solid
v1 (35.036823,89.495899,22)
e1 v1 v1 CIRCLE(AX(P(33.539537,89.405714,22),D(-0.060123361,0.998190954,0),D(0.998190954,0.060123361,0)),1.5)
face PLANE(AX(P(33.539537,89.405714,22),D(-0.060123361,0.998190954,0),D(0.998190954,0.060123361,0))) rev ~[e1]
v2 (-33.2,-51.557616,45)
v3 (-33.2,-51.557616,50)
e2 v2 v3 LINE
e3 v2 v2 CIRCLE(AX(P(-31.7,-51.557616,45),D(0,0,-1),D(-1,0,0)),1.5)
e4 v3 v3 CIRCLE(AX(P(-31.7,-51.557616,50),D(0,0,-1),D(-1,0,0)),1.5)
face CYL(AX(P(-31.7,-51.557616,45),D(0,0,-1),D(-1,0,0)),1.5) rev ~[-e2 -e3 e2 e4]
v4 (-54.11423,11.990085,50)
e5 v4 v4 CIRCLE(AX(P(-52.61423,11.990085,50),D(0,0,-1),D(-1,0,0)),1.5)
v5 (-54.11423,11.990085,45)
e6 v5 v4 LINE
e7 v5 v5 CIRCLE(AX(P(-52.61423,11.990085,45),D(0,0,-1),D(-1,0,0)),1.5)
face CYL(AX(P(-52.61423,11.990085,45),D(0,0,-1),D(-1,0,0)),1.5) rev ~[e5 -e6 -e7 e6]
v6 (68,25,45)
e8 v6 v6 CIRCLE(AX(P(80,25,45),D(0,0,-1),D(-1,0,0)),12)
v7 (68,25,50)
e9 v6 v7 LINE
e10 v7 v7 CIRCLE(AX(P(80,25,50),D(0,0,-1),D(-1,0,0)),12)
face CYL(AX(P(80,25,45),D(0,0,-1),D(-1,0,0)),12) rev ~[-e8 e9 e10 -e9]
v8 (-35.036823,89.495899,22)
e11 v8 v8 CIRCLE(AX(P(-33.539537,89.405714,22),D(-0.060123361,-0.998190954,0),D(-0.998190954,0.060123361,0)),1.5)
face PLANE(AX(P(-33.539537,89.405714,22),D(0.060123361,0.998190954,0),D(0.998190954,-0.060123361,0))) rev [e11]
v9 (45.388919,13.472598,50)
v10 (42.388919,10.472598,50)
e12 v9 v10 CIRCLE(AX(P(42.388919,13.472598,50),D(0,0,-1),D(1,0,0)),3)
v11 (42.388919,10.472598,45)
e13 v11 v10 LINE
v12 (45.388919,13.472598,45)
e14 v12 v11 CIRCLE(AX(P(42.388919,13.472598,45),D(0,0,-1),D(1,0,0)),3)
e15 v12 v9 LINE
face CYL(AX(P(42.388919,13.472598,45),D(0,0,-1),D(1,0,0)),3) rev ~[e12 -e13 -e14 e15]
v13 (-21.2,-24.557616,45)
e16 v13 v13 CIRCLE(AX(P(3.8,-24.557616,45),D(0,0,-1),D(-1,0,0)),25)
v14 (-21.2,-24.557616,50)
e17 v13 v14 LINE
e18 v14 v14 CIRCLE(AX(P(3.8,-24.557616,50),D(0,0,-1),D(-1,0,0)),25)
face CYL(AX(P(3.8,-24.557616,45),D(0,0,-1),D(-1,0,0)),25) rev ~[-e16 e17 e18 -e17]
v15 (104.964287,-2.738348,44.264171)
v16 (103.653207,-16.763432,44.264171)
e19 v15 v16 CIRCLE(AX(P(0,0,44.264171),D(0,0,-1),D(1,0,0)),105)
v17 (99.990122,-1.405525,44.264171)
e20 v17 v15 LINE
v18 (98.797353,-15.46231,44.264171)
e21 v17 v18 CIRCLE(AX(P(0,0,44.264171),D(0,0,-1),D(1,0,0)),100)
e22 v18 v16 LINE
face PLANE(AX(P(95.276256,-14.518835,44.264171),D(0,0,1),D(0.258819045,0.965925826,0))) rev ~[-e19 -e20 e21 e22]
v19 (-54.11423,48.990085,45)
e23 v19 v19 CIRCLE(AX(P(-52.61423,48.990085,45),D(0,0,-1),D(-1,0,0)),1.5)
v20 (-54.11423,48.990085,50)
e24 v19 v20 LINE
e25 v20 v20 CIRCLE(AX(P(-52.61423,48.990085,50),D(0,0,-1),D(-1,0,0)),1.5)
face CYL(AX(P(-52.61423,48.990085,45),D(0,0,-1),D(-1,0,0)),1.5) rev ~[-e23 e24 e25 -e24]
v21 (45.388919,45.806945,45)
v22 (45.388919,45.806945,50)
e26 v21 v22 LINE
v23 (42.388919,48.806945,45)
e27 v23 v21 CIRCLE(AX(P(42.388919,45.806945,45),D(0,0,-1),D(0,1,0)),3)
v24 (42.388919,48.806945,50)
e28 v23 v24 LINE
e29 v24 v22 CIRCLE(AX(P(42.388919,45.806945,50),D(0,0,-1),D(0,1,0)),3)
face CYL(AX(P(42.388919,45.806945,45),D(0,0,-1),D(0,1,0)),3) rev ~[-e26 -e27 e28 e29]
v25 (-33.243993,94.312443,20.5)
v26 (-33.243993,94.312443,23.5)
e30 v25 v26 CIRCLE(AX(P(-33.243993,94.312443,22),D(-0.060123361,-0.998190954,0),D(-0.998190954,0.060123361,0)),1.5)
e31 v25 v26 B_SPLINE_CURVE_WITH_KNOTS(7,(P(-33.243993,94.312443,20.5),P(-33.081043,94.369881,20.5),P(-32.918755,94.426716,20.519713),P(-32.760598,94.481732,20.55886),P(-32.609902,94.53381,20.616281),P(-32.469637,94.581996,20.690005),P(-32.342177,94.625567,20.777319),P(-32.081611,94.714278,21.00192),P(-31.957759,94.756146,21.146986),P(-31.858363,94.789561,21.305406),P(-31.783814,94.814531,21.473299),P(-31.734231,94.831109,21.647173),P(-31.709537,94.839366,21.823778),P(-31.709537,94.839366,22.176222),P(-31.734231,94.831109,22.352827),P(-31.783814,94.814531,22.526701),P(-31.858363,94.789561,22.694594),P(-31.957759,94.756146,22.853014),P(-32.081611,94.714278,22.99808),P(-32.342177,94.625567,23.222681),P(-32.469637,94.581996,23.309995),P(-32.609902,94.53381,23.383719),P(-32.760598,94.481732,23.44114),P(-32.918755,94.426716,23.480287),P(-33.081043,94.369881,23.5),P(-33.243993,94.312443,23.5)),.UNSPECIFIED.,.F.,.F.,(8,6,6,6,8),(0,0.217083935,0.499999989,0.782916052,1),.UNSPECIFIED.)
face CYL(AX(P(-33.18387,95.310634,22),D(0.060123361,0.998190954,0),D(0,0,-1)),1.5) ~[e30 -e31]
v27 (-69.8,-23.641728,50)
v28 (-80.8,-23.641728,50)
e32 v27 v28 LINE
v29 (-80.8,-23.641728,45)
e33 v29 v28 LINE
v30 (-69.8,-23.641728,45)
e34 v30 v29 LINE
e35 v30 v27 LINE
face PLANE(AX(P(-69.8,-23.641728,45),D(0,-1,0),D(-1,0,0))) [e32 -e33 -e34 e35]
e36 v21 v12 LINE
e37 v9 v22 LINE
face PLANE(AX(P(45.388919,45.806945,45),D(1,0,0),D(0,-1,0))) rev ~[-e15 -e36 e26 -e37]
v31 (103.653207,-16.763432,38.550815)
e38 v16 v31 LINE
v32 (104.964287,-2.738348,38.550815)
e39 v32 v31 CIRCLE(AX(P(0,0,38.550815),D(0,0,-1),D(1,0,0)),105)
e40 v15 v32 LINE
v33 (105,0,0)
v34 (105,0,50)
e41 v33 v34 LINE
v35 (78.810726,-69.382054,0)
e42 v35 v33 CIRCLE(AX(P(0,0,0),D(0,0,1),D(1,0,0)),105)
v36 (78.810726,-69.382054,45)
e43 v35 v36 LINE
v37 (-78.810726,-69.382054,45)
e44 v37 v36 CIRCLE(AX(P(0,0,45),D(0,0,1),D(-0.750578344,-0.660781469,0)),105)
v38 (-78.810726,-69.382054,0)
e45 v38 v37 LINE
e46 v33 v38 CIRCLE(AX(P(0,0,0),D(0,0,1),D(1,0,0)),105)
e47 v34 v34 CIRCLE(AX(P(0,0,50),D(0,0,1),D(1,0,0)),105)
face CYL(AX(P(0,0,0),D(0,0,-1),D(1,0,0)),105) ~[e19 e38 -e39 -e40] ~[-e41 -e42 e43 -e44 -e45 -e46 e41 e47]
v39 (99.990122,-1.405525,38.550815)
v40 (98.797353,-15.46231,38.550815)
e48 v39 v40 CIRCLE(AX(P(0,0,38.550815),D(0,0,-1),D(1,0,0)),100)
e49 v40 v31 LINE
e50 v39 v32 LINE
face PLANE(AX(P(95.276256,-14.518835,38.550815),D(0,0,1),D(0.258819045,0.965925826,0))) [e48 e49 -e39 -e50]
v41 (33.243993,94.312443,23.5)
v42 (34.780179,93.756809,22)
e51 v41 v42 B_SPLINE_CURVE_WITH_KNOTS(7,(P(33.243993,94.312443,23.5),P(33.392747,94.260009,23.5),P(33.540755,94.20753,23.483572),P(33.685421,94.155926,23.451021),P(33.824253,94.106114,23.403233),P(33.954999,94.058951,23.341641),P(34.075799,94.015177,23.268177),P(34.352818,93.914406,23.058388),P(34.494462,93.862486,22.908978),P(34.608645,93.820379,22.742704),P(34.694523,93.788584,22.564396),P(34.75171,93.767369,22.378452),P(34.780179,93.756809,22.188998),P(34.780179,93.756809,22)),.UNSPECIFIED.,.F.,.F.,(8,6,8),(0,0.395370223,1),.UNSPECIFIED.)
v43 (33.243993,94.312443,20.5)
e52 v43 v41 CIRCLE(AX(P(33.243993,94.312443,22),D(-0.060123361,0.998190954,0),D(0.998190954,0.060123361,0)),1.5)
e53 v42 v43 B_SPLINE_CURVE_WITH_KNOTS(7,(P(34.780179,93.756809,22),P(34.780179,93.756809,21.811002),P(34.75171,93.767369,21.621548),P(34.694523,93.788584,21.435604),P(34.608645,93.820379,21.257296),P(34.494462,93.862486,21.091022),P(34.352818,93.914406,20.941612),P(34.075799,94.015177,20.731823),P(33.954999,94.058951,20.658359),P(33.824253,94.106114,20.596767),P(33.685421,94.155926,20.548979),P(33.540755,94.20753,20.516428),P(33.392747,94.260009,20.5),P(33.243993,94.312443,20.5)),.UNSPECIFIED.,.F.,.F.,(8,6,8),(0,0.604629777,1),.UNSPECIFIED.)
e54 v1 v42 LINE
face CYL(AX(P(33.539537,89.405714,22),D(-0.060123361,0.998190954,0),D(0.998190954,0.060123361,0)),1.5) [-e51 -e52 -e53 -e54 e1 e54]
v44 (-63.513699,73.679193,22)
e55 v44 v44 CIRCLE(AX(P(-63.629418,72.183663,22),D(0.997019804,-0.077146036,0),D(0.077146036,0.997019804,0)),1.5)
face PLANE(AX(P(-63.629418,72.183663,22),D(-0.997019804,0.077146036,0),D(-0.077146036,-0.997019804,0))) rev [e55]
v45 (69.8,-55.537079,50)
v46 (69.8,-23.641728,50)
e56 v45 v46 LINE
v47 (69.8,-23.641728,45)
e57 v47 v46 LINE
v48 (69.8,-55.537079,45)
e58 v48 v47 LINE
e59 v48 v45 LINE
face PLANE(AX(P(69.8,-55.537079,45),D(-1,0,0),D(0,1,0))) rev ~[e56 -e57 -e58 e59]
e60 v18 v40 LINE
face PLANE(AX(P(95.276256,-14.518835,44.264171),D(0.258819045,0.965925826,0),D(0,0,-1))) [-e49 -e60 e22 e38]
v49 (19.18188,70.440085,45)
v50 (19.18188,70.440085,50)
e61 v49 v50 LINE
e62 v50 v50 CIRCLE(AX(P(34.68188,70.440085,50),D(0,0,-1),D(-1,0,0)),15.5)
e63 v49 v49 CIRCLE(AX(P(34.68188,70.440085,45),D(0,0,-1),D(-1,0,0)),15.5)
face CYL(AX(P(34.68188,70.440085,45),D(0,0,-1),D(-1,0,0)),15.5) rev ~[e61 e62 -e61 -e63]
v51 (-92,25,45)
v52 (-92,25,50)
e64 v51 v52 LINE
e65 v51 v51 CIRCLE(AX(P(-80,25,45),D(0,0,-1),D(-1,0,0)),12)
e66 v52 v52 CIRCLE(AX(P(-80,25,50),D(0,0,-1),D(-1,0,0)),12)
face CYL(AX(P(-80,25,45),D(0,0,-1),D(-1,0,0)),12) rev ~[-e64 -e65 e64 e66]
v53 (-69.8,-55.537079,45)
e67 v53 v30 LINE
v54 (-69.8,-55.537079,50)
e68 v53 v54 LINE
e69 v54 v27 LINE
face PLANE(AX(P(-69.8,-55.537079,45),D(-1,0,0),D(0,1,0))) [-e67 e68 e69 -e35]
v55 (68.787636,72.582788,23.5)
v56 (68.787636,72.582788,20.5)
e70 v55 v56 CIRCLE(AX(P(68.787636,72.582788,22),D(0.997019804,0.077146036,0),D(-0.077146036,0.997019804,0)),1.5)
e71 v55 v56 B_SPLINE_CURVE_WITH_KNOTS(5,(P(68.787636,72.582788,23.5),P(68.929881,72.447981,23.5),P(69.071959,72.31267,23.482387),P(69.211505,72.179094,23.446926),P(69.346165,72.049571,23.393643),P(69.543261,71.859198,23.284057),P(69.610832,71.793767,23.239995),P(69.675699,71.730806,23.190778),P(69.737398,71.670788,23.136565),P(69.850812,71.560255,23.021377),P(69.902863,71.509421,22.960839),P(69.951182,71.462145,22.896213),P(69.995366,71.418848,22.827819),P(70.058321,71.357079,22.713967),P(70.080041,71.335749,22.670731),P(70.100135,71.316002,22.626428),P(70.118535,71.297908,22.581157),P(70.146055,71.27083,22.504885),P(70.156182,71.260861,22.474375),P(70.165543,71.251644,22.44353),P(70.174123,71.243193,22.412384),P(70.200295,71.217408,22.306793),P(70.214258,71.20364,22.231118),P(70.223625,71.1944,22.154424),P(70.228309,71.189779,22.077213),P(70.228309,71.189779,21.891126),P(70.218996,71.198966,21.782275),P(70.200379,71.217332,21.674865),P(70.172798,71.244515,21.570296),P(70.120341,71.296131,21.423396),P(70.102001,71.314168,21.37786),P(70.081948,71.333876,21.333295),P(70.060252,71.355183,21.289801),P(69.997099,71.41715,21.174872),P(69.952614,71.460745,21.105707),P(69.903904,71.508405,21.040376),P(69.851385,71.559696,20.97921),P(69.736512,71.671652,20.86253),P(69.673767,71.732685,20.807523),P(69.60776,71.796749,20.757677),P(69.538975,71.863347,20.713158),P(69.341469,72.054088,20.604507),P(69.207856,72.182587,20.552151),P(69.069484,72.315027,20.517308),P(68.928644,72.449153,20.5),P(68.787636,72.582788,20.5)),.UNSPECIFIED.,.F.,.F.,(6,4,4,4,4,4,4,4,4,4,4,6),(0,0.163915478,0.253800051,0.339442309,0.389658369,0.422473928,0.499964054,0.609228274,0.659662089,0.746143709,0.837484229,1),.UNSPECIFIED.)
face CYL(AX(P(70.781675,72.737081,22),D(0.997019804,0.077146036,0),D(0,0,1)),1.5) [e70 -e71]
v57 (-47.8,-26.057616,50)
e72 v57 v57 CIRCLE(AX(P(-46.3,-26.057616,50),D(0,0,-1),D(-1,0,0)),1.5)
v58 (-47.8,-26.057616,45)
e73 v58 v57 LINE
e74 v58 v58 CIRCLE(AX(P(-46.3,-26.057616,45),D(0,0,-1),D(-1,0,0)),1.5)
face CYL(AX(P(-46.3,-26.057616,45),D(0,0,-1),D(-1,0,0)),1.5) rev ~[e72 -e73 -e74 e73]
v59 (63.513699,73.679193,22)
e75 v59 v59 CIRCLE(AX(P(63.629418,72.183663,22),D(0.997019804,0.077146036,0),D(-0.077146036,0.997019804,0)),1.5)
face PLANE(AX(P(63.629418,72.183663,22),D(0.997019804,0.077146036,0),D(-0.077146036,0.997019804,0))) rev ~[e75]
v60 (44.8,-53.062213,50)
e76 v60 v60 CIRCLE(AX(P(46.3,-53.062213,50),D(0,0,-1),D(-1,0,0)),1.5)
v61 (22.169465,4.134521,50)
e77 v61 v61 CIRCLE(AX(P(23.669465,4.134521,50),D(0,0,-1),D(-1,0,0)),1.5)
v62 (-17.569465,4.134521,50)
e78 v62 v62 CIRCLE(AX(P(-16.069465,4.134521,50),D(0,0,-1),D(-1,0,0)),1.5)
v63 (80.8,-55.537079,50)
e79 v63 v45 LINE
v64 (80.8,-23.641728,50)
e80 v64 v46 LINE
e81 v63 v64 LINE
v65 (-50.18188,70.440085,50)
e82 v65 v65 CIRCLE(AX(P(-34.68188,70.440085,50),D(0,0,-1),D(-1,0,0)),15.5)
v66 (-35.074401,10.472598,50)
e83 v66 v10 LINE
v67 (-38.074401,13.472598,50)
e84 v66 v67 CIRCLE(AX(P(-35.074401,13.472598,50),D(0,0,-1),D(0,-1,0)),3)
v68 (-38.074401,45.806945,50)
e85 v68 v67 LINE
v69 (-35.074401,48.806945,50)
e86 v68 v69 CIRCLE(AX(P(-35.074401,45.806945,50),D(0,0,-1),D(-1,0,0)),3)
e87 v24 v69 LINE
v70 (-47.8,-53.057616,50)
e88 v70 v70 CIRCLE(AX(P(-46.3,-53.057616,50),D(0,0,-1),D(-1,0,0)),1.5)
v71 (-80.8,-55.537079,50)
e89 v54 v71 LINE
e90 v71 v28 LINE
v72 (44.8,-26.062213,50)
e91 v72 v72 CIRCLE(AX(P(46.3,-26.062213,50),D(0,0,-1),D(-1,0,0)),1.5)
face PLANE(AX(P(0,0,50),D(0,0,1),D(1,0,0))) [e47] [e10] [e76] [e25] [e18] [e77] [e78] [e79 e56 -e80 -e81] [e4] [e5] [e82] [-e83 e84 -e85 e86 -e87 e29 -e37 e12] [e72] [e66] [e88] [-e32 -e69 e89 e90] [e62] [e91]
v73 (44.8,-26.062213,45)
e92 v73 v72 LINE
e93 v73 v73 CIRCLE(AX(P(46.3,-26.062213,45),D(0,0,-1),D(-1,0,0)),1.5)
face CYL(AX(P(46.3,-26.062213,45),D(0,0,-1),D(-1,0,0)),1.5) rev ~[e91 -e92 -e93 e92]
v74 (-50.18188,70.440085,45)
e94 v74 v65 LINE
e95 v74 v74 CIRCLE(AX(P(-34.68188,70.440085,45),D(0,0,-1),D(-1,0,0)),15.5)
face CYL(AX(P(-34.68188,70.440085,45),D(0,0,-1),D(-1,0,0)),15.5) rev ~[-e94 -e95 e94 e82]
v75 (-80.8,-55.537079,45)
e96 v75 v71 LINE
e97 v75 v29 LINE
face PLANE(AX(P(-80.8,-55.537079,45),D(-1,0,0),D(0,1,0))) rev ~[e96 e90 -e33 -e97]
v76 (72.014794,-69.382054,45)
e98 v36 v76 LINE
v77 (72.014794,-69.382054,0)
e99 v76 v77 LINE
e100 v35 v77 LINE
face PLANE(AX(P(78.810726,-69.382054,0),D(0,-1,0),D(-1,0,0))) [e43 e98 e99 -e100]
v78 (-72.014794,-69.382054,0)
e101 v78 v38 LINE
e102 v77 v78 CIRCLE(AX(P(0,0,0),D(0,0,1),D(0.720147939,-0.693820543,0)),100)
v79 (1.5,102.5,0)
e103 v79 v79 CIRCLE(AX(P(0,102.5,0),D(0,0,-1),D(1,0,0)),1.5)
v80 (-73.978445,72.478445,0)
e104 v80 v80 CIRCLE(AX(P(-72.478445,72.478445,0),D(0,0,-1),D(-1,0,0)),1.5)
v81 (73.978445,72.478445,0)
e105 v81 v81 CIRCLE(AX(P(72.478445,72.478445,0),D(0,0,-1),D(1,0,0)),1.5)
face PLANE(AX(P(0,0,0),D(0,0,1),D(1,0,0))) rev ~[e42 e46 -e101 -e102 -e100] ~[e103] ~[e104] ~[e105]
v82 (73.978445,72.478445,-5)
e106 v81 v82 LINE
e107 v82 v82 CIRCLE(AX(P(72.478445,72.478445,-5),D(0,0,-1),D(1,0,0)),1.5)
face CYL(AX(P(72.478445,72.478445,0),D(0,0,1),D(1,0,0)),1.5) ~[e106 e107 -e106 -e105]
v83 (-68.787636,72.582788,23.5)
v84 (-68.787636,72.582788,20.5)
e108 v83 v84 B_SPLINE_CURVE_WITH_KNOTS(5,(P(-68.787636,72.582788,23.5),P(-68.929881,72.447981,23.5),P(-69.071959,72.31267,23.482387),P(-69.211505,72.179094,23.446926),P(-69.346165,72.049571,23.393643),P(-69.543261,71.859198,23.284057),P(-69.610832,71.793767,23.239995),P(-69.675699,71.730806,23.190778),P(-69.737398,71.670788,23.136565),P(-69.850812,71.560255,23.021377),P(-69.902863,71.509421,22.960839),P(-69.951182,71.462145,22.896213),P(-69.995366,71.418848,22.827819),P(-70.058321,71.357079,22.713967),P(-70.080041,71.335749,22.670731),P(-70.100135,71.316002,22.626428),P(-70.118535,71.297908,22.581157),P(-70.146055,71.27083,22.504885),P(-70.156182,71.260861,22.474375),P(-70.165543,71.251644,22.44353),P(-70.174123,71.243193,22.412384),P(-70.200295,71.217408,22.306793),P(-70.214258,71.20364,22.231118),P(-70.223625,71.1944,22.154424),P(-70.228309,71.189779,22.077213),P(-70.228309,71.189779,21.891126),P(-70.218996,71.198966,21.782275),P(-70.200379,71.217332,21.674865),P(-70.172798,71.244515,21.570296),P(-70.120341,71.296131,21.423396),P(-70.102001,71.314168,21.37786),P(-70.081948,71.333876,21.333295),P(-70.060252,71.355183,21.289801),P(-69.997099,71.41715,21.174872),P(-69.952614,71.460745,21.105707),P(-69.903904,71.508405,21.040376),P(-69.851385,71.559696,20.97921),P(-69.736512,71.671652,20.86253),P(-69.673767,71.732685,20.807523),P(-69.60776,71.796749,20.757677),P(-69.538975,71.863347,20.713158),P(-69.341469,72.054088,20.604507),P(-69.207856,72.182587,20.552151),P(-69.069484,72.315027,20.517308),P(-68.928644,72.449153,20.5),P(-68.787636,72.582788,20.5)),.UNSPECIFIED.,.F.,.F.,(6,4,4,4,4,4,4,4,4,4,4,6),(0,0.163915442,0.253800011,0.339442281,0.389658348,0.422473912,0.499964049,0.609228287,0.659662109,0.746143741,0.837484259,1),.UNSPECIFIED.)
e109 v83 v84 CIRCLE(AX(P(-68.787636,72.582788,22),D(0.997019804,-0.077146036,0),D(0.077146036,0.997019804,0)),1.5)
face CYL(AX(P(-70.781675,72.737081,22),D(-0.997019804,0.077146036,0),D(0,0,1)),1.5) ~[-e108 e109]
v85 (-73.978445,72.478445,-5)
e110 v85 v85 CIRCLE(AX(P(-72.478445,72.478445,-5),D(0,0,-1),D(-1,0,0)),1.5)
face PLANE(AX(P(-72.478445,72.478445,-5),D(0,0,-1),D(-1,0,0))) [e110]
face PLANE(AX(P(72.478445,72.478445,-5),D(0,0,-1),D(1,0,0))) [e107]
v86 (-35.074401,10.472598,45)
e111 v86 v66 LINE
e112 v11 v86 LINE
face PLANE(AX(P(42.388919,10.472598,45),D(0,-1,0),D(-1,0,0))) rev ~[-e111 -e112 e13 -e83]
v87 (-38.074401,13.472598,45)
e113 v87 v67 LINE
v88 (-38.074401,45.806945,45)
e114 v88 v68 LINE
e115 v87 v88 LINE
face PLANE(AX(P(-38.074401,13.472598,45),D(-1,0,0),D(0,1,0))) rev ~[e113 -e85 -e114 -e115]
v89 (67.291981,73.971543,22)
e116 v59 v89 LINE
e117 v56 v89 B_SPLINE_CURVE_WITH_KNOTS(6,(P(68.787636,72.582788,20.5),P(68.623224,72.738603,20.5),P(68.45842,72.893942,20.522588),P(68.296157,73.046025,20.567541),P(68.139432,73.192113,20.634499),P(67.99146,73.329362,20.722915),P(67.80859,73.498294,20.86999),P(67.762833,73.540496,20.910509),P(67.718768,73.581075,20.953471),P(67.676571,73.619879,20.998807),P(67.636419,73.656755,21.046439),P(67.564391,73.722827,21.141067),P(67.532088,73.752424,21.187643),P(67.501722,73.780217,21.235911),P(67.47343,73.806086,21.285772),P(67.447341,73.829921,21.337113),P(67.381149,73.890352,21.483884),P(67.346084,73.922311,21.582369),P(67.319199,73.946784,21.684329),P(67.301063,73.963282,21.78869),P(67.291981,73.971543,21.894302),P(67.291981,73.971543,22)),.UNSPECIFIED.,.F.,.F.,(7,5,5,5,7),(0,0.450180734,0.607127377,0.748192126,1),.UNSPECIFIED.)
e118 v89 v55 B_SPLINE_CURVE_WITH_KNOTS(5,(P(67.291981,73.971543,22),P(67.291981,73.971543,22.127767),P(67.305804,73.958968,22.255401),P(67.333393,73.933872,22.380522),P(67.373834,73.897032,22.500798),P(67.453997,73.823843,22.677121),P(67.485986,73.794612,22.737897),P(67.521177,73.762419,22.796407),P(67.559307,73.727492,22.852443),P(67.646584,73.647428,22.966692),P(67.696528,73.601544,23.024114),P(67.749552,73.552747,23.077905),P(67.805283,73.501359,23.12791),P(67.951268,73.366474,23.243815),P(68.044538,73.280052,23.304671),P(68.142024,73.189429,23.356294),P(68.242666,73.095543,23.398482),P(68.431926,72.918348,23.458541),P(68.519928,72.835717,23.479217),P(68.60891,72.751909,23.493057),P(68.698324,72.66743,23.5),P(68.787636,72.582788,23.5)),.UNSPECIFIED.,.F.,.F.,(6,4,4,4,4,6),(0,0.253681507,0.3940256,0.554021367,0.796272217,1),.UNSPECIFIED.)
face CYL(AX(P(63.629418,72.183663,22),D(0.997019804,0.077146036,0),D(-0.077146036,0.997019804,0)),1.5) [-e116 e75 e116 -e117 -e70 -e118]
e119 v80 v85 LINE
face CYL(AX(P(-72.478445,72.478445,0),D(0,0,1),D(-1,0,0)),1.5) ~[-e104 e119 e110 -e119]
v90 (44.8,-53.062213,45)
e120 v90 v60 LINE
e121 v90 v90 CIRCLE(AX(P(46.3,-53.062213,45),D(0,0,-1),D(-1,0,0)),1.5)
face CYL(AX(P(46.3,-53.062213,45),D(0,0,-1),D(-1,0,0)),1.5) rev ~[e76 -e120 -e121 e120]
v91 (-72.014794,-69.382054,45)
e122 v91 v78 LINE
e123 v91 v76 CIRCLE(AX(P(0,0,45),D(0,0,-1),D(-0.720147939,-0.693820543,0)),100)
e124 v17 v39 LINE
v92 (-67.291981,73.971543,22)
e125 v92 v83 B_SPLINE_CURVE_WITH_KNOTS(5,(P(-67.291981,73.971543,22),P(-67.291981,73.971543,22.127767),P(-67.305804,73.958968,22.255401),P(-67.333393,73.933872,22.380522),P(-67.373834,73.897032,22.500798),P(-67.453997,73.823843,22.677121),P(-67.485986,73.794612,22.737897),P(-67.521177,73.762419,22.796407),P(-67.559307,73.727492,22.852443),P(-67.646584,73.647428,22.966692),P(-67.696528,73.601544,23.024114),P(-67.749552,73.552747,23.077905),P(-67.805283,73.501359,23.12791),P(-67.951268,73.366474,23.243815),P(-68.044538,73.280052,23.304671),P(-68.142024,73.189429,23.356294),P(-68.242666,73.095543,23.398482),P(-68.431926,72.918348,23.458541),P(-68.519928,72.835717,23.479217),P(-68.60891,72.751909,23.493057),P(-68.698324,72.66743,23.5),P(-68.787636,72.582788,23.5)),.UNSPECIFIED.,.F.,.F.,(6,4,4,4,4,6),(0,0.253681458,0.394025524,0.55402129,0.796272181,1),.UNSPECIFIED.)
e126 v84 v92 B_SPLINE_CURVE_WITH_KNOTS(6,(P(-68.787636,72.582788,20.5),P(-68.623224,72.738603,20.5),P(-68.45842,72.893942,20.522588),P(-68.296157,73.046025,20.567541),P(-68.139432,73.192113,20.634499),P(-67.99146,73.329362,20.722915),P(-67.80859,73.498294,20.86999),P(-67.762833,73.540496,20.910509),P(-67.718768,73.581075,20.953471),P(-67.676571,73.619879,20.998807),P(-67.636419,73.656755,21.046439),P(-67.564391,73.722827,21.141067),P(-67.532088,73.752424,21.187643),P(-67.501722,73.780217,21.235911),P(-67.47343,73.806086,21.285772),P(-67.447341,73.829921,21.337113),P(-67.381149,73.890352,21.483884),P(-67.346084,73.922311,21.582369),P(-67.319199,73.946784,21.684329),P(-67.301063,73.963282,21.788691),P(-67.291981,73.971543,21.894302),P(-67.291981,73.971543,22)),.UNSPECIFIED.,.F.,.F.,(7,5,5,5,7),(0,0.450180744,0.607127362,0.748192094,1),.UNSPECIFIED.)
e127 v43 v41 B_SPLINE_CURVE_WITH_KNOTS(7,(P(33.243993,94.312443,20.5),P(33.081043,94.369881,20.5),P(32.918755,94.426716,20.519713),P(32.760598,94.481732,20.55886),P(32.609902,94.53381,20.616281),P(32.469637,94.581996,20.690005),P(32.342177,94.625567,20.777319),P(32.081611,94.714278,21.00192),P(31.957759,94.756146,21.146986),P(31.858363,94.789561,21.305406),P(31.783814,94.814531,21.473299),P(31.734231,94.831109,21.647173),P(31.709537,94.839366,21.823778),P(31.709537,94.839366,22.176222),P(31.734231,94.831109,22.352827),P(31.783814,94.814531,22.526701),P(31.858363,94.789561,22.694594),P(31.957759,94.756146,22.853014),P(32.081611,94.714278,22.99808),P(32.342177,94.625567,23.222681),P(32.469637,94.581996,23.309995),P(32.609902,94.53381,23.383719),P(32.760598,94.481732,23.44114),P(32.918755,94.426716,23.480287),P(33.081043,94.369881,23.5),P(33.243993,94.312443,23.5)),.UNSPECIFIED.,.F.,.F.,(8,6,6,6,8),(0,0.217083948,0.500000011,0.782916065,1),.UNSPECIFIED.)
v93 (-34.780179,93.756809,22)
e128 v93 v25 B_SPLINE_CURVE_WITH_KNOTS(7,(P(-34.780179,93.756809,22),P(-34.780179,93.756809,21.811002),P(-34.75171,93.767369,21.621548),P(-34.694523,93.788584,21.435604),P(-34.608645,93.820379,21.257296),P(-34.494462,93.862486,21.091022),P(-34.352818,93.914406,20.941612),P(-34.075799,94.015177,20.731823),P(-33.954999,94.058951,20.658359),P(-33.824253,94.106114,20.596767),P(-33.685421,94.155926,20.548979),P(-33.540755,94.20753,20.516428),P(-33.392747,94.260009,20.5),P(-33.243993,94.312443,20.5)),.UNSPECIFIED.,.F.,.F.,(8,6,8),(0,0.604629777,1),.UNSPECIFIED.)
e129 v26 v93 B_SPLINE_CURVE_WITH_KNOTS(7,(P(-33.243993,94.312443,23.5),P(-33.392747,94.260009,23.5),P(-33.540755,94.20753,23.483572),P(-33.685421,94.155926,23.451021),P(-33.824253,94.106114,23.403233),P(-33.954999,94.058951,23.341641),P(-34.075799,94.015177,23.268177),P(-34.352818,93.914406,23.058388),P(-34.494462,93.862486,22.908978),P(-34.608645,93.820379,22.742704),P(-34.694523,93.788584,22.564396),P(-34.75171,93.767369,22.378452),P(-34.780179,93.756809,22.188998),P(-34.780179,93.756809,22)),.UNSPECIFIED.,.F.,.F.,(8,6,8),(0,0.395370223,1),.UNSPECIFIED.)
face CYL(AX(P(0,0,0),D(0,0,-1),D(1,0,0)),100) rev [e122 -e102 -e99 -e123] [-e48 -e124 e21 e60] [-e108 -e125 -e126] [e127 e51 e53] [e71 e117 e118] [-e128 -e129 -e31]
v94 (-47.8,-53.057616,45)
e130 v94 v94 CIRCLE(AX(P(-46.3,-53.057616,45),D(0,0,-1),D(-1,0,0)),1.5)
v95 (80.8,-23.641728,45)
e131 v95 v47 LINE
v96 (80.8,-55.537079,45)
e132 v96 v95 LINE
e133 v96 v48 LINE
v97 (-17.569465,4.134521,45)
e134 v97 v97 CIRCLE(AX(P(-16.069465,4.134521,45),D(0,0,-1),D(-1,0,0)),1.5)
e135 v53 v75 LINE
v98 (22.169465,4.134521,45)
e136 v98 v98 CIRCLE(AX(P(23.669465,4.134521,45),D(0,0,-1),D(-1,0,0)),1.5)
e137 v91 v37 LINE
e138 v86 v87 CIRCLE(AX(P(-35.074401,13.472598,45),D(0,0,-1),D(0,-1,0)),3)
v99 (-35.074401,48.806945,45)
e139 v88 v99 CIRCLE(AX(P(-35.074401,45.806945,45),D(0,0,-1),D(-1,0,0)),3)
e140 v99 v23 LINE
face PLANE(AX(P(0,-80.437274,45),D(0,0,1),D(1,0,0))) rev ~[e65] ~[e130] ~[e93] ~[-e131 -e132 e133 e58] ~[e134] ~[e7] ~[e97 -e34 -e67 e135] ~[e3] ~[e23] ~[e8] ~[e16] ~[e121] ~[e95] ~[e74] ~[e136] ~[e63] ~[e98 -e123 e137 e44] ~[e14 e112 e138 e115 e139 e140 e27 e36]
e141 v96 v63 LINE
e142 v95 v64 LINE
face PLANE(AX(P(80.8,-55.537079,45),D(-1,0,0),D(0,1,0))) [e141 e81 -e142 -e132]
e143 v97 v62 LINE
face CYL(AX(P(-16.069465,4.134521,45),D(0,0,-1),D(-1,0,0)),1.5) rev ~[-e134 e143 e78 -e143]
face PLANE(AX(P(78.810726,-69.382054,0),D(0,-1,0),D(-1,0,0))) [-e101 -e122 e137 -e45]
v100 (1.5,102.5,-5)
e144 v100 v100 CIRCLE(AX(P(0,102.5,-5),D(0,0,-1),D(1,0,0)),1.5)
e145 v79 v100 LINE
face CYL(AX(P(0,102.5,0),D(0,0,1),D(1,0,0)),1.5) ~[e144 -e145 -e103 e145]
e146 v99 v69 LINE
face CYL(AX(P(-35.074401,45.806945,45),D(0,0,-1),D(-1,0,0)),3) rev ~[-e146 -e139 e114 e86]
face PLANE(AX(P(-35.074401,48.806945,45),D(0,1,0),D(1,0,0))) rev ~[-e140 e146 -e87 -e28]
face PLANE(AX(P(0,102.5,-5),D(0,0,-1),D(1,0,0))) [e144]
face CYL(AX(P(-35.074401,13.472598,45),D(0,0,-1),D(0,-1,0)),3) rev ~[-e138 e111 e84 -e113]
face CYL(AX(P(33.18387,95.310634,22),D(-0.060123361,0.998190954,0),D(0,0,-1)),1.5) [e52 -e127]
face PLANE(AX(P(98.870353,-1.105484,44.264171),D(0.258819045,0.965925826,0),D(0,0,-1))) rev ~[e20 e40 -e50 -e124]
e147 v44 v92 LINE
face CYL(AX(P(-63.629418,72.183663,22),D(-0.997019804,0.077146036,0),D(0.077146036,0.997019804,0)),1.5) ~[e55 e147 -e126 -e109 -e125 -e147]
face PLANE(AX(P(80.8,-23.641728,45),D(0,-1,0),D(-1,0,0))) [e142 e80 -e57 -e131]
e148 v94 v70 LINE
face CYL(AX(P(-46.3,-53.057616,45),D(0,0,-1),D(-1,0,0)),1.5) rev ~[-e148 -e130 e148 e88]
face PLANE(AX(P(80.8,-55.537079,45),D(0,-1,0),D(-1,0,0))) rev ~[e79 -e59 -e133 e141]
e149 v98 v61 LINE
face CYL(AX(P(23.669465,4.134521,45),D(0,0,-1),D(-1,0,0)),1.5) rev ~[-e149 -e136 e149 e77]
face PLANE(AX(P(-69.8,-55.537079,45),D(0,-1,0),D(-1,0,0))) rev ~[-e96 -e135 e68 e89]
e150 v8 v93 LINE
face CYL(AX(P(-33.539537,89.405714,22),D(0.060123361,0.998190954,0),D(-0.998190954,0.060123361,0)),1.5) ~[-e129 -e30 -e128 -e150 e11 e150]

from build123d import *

# Parameters (mm, degrees)
ESQUISSE1_R              = 105
BOSS_EXTRU_1_DEPTH       = 50
COQUE1_T                 = -5
ESQUISSE3_R              = 25
ESQUISSE3_R_2            = 1.5
ENL_V_MAT_EXTRU_1_DEPTH  = 10
ENL_V_MAT_EXTRU_2_DEPTH  = 156.161206492
ENL_V_MAT_EXTRU_3_DEPTH  = 45
ESQUISSE7_R              = 1.5
ENL_V_MAT_EXTRU_4_DEPTH  = 156.161206492
ESQUISSE8_W              = 11
ESQUISSE8_H              = 31.895350387
ENL_V_MAT_EXTRU_5_DEPTH  = 5
ESQUISSE9_R              = 15.5
ENL_V_MAT_EXTRU_7_DEPTH  = 156.161206492
BALAYAGE1_PROFILE_R      = 1.5
BOSS_EXTRU_2_START       = 1
BOSS_EXTRU_2_DEPTH       = 1
BALAYAGE2_PROFILE_R      = 1.5
BOSS_EXTRU_3_START       = 2
BOSS_EXTRU_3_DEPTH       = 2
ESQUISSE30_R             = 1.5
BOSS_EXTRU_4_DEPTH       = 5
ESQUISSE31_R             = 12
ENL_V_MAT_EXTRU_8_DEPTH  = 5
ESQUISSE32_W             = 5.713355649
ESQUISSE32_H             = 13.88652285
ENL_V_MAT_EXTRU_10_DEPTH = 352.816395688


with BuildPart() as part:
    # Esquisse1 → Boss.-Extru.1 (new body)
    with BuildSketch(Plane.XY):
        Circle(ESQUISSE1_R)
    extrude(amount=BOSS_EXTRU_1_DEPTH)

    # Coque1
    coque1_openings = [part.faces().sort_by_distance(p)[0] for p in [
        (0, 0, 0),
    ]]
    offset(amount=COQUE1_T, openings=coque1_openings, kind=Kind.INTERSECTION)

    # Esquisse3 → Enlèv. mat.-Extru.1 (cut)
    with BuildSketch(Plane(origin=(0, 0, 45), x_dir=(-1, 0, 0), z_dir=(0, 0, -1))):
        with Locations((-3.8, -24.557615642)):
            Circle(ESQUISSE3_R)
        with Locations((-23.669465397, 4.134521322)):
            Circle(ESQUISSE3_R_2)
        with Locations((16.069465397, 4.134521322)):
            Circle(ESQUISSE3_R_2)
        with Locations((31.7, -51.557615642)):
            Circle(ESQUISSE3_R_2)
    extrude(amount=-ENL_V_MAT_EXTRU_1_DEPTH, mode=Mode.SUBTRACT)

    # Esquisse5 → Enlèv. mat.-Extru.2 (cut, through all)
    with BuildSketch(Plane(origin=(0, 0, 45), x_dir=(-1, 0, 0), z_dir=(0, 0, -1))):
        with BuildLine():
            Line((-42.388918531, 10.472597699), (35.07440103, 10.472597699))
            ThreePointArc((35.07440103, 10.472597699), (37.195721374, 11.351277356), (38.07440103, 13.472597699))
            Line((38.07440103, 13.472597699), (38.07440103, 45.806945365))
            ThreePointArc((38.07440103, 45.806945365), (37.195721374, 47.928265708), (35.07440103, 48.806945365))
            Line((35.07440103, 48.806945365), (-42.388918531, 48.806945365))
            ThreePointArc((-42.388918531, 48.806945365), (-44.510238875, 47.928265708), (-45.388918531, 45.806945365))
            Line((-45.388918531, 45.806945365), (-45.388918531, 13.472597699))
            ThreePointArc((-45.388918531, 13.472597699), (-44.510238875, 11.351277356), (-42.388918531, 10.472597699))
        make_face()
    extrude(amount=-ENL_V_MAT_EXTRU_2_DEPTH, mode=Mode.SUBTRACT)

    # Esquisse6 → Enlèv. mat.-Extru.3 (cut)
    with BuildSketch(Plane(origin=(0, 0, 0), x_dir=(-1, 0, 0), z_dir=(0, 0, -1))):
        with BuildLine():
            Line((-78.81072608, -69.38205427), (78.81072608, -69.38205427))
            ThreePointArc((78.81072608, -69.38205427), (0, -105), (-78.81072608, -69.38205427))
        make_face()
    extrude(amount=-ENL_V_MAT_EXTRU_3_DEPTH, mode=Mode.SUBTRACT)

    # Esquisse7 → Enlèv. mat.-Extru.4 (cut, through all)
    with BuildSketch(Plane(origin=(0, 0, 45), x_dir=(-1, 0, 0), z_dir=(0, 0, -1))):
        with Locations((52.614229855, 48.990085475)):
            Circle(ESQUISSE7_R)
        with Locations((52.614229855, 11.990085475)):
            Circle(ESQUISSE7_R)
        with Locations((46.3, -26.057615642)):
            Circle(ESQUISSE7_R)
        with Locations((46.3, -53.057615642)):
            Circle(ESQUISSE7_R)
        with Locations((-46.3, -26.062213408)):
            Circle(ESQUISSE7_R)
        with Locations((-46.3, -53.062213408)):
            Circle(ESQUISSE7_R)
    extrude(amount=-ENL_V_MAT_EXTRU_4_DEPTH, mode=Mode.SUBTRACT)

    # Esquisse8 → Enlèv. mat.-Extru.5 (cut)
    with BuildSketch(Plane(origin=(0, 0, 45), x_dir=(-1, 0, 0), z_dir=(0, 0, -1))):
        with Locations((-75.3, -39.589403314)):
            Rectangle(ESQUISSE8_W, ESQUISSE8_H)
        with Locations((75.3, -39.589403314)):
            Rectangle(ESQUISSE8_W, ESQUISSE8_H)
    extrude(amount=-ENL_V_MAT_EXTRU_5_DEPTH, mode=Mode.SUBTRACT)

    # Esquisse9 → Enlèv. mat.-Extru.7 (cut, through all)
    with BuildSketch(Plane(origin=(0, 0, 45), x_dir=(-1, 0, 0), z_dir=(0, 0, -1))):
        with Locations((34.681880454, 70.440085475)):
            Circle(ESQUISSE9_R)
        with Locations((-34.681880454, 70.440085475)):
            Circle(ESQUISSE9_R)
    extrude(amount=-ENL_V_MAT_EXTRU_7_DEPTH, mode=Mode.SUBTRACT)

    # Balayage1: sweep along a path in Esquisse10
    with BuildLine(Plane(origin=(-9.681880454, 0.440085475, 22), x_dir=(-1, 0, 0), z_dir=(0, 0, -1))) as balayage1_path:
        Line((-43.221417057, 88.965628134), (-42.925873334, 93.872357698))
    # Balayage1 profile (on start of the path) → Balayage1 (sweep)
    with BuildSketch(Plane(origin=(33.539536603, 89.405713609, 22), x_dir=(0.9981909544337458, 0.060123360573471965, 0), z_dir=(-0.060123360573471965, 0.9981909544337458, 0))):
        Circle(BALAYAGE1_PROFILE_R)
    balayage1 = sweep(path=balayage1_path.line)

    # Esquisse19 → Boss.-Extru.2 (add)
    with BuildSketch(Plane(origin=(-5.53995205, 91.976396052, 0), x_dir=(0.998190954433746, 0.06012336057346903, 0), z_dir=(-0.06012336057346903, 0.998190954433746, 0)).offset(BOSS_EXTRU_2_START)):
        with BuildLine():
            Line((38.85423401, -23.5), (38.85423401, -20.5))
            ThreePointArc((38.85423401, -20.5), (37.35423401, -22), (38.85423401, -23.5))
        make_face()
    boss_extru_2 = extrude(amount=-BOSS_EXTRU_2_DEPTH)

    # Balayage2: sweep along a path in Esquisse20
    with BuildLine(Plane(origin=(-9.681880454, 0.440085475, 22), x_dir=(-1, 0, 0), z_dir=(0, 0, -1))) as balayage2_path:
        Line((-73.311298587, 71.743577457), (-78.469516131, 72.142702967))
    # Balayage2 profile (on start of the path) → Balayage2 (sweep)
    with BuildSketch(Plane(origin=(63.629418133, 72.183662932, 22), x_dir=(-0.07714603625431019, 0.9970198037603109, 0), z_dir=(0.9970198037603109, 0.07714603625431019, 0))):
        Circle(BALAYAGE2_PROFILE_R)
    balayage2 = sweep(path=balayage2_path.line)

    # Esquisse27 → Boss.-Extru.3 (add)
    with BuildSketch(Plane(origin=(73.961032209, 5.722855705, 0), x_dir=(0, 0, -1), z_dir=(0.9970198037603113, 0.07714603625430425, 0)).offset(BOSS_EXTRU_3_START)):
        with BuildLine():
            Line((-20.5, 67.059784053), (-23.5, 67.059784053))
            ThreePointArc((-23.5, 67.059784053), (-22, 65.559784053), (-20.5, 67.059784053))
        make_face()
    boss_extru_3 = extrude(amount=-BOSS_EXTRU_3_DEPTH)

    # Symétrie1: Balayage1, Boss.-Extru.2, Balayage2, Boss.-Extru.3 across plane
    add(balayage1.mirror(Plane(origin=(0, 0, 0), x_dir=(0, 0, 1), z_dir=(1, 0, 0))))
    add(boss_extru_2.mirror(Plane(origin=(0, 0, 0), x_dir=(0, 0, 1), z_dir=(1, 0, 0))))
    add(balayage2.mirror(Plane(origin=(0, 0, 0), x_dir=(0, 0, 1), z_dir=(1, 0, 0))))
    add(boss_extru_3.mirror(Plane(origin=(0, 0, 0), x_dir=(0, 0, 1), z_dir=(1, 0, 0))))

    # Esquisse30 → Boss.-Extru.4 (add)
    with BuildSketch(Plane(origin=(0, 0, 0), x_dir=(-1, 0, 0), z_dir=(0, 0, -1))):
        with Locations(Location((0, 102.5, 0), (0, 0, 180))):
            Circle(ESQUISSE30_R)
        with Locations(Location((-72.478445072, 72.478445072, 0), (0, 0, 180))):
            Circle(ESQUISSE30_R)
        with Locations((72.478445072, 72.478445072)):
            Circle(ESQUISSE30_R)
    extrude(amount=BOSS_EXTRU_4_DEPTH)

    # Esquisse31 → Enlèv. mat.-Extru.8 (cut)
    with BuildSketch(Plane(origin=(0, 0, 45), x_dir=(-1, 0, 0), z_dir=(0, 0, -1))):
        with Locations((-80, 25)):
            Circle(ESQUISSE31_R)
        with Locations((80, 25)):
            Circle(ESQUISSE31_R)
    extrude(amount=-ENL_V_MAT_EXTRU_8_DEPTH, mode=Mode.SUBTRACT)

    # Esquisse32 → Enlèv. mat.-Extru.10 (cut, through all)
    with BuildSketch(Plane(origin=(91.985124309, -26.801506348, -210), x_dir=(0, 0, -1), z_dir=(0.9659258262890654, -0.25881904510253173, 0))):
        with Locations((-251.407492867, 19.659218808)):
            Rectangle(ESQUISSE32_W, ESQUISSE32_H)
    extrude(amount=ENL_V_MAT_EXTRU_10_DEPTH, mode=Mode.SUBTRACT)


solid = part.part
